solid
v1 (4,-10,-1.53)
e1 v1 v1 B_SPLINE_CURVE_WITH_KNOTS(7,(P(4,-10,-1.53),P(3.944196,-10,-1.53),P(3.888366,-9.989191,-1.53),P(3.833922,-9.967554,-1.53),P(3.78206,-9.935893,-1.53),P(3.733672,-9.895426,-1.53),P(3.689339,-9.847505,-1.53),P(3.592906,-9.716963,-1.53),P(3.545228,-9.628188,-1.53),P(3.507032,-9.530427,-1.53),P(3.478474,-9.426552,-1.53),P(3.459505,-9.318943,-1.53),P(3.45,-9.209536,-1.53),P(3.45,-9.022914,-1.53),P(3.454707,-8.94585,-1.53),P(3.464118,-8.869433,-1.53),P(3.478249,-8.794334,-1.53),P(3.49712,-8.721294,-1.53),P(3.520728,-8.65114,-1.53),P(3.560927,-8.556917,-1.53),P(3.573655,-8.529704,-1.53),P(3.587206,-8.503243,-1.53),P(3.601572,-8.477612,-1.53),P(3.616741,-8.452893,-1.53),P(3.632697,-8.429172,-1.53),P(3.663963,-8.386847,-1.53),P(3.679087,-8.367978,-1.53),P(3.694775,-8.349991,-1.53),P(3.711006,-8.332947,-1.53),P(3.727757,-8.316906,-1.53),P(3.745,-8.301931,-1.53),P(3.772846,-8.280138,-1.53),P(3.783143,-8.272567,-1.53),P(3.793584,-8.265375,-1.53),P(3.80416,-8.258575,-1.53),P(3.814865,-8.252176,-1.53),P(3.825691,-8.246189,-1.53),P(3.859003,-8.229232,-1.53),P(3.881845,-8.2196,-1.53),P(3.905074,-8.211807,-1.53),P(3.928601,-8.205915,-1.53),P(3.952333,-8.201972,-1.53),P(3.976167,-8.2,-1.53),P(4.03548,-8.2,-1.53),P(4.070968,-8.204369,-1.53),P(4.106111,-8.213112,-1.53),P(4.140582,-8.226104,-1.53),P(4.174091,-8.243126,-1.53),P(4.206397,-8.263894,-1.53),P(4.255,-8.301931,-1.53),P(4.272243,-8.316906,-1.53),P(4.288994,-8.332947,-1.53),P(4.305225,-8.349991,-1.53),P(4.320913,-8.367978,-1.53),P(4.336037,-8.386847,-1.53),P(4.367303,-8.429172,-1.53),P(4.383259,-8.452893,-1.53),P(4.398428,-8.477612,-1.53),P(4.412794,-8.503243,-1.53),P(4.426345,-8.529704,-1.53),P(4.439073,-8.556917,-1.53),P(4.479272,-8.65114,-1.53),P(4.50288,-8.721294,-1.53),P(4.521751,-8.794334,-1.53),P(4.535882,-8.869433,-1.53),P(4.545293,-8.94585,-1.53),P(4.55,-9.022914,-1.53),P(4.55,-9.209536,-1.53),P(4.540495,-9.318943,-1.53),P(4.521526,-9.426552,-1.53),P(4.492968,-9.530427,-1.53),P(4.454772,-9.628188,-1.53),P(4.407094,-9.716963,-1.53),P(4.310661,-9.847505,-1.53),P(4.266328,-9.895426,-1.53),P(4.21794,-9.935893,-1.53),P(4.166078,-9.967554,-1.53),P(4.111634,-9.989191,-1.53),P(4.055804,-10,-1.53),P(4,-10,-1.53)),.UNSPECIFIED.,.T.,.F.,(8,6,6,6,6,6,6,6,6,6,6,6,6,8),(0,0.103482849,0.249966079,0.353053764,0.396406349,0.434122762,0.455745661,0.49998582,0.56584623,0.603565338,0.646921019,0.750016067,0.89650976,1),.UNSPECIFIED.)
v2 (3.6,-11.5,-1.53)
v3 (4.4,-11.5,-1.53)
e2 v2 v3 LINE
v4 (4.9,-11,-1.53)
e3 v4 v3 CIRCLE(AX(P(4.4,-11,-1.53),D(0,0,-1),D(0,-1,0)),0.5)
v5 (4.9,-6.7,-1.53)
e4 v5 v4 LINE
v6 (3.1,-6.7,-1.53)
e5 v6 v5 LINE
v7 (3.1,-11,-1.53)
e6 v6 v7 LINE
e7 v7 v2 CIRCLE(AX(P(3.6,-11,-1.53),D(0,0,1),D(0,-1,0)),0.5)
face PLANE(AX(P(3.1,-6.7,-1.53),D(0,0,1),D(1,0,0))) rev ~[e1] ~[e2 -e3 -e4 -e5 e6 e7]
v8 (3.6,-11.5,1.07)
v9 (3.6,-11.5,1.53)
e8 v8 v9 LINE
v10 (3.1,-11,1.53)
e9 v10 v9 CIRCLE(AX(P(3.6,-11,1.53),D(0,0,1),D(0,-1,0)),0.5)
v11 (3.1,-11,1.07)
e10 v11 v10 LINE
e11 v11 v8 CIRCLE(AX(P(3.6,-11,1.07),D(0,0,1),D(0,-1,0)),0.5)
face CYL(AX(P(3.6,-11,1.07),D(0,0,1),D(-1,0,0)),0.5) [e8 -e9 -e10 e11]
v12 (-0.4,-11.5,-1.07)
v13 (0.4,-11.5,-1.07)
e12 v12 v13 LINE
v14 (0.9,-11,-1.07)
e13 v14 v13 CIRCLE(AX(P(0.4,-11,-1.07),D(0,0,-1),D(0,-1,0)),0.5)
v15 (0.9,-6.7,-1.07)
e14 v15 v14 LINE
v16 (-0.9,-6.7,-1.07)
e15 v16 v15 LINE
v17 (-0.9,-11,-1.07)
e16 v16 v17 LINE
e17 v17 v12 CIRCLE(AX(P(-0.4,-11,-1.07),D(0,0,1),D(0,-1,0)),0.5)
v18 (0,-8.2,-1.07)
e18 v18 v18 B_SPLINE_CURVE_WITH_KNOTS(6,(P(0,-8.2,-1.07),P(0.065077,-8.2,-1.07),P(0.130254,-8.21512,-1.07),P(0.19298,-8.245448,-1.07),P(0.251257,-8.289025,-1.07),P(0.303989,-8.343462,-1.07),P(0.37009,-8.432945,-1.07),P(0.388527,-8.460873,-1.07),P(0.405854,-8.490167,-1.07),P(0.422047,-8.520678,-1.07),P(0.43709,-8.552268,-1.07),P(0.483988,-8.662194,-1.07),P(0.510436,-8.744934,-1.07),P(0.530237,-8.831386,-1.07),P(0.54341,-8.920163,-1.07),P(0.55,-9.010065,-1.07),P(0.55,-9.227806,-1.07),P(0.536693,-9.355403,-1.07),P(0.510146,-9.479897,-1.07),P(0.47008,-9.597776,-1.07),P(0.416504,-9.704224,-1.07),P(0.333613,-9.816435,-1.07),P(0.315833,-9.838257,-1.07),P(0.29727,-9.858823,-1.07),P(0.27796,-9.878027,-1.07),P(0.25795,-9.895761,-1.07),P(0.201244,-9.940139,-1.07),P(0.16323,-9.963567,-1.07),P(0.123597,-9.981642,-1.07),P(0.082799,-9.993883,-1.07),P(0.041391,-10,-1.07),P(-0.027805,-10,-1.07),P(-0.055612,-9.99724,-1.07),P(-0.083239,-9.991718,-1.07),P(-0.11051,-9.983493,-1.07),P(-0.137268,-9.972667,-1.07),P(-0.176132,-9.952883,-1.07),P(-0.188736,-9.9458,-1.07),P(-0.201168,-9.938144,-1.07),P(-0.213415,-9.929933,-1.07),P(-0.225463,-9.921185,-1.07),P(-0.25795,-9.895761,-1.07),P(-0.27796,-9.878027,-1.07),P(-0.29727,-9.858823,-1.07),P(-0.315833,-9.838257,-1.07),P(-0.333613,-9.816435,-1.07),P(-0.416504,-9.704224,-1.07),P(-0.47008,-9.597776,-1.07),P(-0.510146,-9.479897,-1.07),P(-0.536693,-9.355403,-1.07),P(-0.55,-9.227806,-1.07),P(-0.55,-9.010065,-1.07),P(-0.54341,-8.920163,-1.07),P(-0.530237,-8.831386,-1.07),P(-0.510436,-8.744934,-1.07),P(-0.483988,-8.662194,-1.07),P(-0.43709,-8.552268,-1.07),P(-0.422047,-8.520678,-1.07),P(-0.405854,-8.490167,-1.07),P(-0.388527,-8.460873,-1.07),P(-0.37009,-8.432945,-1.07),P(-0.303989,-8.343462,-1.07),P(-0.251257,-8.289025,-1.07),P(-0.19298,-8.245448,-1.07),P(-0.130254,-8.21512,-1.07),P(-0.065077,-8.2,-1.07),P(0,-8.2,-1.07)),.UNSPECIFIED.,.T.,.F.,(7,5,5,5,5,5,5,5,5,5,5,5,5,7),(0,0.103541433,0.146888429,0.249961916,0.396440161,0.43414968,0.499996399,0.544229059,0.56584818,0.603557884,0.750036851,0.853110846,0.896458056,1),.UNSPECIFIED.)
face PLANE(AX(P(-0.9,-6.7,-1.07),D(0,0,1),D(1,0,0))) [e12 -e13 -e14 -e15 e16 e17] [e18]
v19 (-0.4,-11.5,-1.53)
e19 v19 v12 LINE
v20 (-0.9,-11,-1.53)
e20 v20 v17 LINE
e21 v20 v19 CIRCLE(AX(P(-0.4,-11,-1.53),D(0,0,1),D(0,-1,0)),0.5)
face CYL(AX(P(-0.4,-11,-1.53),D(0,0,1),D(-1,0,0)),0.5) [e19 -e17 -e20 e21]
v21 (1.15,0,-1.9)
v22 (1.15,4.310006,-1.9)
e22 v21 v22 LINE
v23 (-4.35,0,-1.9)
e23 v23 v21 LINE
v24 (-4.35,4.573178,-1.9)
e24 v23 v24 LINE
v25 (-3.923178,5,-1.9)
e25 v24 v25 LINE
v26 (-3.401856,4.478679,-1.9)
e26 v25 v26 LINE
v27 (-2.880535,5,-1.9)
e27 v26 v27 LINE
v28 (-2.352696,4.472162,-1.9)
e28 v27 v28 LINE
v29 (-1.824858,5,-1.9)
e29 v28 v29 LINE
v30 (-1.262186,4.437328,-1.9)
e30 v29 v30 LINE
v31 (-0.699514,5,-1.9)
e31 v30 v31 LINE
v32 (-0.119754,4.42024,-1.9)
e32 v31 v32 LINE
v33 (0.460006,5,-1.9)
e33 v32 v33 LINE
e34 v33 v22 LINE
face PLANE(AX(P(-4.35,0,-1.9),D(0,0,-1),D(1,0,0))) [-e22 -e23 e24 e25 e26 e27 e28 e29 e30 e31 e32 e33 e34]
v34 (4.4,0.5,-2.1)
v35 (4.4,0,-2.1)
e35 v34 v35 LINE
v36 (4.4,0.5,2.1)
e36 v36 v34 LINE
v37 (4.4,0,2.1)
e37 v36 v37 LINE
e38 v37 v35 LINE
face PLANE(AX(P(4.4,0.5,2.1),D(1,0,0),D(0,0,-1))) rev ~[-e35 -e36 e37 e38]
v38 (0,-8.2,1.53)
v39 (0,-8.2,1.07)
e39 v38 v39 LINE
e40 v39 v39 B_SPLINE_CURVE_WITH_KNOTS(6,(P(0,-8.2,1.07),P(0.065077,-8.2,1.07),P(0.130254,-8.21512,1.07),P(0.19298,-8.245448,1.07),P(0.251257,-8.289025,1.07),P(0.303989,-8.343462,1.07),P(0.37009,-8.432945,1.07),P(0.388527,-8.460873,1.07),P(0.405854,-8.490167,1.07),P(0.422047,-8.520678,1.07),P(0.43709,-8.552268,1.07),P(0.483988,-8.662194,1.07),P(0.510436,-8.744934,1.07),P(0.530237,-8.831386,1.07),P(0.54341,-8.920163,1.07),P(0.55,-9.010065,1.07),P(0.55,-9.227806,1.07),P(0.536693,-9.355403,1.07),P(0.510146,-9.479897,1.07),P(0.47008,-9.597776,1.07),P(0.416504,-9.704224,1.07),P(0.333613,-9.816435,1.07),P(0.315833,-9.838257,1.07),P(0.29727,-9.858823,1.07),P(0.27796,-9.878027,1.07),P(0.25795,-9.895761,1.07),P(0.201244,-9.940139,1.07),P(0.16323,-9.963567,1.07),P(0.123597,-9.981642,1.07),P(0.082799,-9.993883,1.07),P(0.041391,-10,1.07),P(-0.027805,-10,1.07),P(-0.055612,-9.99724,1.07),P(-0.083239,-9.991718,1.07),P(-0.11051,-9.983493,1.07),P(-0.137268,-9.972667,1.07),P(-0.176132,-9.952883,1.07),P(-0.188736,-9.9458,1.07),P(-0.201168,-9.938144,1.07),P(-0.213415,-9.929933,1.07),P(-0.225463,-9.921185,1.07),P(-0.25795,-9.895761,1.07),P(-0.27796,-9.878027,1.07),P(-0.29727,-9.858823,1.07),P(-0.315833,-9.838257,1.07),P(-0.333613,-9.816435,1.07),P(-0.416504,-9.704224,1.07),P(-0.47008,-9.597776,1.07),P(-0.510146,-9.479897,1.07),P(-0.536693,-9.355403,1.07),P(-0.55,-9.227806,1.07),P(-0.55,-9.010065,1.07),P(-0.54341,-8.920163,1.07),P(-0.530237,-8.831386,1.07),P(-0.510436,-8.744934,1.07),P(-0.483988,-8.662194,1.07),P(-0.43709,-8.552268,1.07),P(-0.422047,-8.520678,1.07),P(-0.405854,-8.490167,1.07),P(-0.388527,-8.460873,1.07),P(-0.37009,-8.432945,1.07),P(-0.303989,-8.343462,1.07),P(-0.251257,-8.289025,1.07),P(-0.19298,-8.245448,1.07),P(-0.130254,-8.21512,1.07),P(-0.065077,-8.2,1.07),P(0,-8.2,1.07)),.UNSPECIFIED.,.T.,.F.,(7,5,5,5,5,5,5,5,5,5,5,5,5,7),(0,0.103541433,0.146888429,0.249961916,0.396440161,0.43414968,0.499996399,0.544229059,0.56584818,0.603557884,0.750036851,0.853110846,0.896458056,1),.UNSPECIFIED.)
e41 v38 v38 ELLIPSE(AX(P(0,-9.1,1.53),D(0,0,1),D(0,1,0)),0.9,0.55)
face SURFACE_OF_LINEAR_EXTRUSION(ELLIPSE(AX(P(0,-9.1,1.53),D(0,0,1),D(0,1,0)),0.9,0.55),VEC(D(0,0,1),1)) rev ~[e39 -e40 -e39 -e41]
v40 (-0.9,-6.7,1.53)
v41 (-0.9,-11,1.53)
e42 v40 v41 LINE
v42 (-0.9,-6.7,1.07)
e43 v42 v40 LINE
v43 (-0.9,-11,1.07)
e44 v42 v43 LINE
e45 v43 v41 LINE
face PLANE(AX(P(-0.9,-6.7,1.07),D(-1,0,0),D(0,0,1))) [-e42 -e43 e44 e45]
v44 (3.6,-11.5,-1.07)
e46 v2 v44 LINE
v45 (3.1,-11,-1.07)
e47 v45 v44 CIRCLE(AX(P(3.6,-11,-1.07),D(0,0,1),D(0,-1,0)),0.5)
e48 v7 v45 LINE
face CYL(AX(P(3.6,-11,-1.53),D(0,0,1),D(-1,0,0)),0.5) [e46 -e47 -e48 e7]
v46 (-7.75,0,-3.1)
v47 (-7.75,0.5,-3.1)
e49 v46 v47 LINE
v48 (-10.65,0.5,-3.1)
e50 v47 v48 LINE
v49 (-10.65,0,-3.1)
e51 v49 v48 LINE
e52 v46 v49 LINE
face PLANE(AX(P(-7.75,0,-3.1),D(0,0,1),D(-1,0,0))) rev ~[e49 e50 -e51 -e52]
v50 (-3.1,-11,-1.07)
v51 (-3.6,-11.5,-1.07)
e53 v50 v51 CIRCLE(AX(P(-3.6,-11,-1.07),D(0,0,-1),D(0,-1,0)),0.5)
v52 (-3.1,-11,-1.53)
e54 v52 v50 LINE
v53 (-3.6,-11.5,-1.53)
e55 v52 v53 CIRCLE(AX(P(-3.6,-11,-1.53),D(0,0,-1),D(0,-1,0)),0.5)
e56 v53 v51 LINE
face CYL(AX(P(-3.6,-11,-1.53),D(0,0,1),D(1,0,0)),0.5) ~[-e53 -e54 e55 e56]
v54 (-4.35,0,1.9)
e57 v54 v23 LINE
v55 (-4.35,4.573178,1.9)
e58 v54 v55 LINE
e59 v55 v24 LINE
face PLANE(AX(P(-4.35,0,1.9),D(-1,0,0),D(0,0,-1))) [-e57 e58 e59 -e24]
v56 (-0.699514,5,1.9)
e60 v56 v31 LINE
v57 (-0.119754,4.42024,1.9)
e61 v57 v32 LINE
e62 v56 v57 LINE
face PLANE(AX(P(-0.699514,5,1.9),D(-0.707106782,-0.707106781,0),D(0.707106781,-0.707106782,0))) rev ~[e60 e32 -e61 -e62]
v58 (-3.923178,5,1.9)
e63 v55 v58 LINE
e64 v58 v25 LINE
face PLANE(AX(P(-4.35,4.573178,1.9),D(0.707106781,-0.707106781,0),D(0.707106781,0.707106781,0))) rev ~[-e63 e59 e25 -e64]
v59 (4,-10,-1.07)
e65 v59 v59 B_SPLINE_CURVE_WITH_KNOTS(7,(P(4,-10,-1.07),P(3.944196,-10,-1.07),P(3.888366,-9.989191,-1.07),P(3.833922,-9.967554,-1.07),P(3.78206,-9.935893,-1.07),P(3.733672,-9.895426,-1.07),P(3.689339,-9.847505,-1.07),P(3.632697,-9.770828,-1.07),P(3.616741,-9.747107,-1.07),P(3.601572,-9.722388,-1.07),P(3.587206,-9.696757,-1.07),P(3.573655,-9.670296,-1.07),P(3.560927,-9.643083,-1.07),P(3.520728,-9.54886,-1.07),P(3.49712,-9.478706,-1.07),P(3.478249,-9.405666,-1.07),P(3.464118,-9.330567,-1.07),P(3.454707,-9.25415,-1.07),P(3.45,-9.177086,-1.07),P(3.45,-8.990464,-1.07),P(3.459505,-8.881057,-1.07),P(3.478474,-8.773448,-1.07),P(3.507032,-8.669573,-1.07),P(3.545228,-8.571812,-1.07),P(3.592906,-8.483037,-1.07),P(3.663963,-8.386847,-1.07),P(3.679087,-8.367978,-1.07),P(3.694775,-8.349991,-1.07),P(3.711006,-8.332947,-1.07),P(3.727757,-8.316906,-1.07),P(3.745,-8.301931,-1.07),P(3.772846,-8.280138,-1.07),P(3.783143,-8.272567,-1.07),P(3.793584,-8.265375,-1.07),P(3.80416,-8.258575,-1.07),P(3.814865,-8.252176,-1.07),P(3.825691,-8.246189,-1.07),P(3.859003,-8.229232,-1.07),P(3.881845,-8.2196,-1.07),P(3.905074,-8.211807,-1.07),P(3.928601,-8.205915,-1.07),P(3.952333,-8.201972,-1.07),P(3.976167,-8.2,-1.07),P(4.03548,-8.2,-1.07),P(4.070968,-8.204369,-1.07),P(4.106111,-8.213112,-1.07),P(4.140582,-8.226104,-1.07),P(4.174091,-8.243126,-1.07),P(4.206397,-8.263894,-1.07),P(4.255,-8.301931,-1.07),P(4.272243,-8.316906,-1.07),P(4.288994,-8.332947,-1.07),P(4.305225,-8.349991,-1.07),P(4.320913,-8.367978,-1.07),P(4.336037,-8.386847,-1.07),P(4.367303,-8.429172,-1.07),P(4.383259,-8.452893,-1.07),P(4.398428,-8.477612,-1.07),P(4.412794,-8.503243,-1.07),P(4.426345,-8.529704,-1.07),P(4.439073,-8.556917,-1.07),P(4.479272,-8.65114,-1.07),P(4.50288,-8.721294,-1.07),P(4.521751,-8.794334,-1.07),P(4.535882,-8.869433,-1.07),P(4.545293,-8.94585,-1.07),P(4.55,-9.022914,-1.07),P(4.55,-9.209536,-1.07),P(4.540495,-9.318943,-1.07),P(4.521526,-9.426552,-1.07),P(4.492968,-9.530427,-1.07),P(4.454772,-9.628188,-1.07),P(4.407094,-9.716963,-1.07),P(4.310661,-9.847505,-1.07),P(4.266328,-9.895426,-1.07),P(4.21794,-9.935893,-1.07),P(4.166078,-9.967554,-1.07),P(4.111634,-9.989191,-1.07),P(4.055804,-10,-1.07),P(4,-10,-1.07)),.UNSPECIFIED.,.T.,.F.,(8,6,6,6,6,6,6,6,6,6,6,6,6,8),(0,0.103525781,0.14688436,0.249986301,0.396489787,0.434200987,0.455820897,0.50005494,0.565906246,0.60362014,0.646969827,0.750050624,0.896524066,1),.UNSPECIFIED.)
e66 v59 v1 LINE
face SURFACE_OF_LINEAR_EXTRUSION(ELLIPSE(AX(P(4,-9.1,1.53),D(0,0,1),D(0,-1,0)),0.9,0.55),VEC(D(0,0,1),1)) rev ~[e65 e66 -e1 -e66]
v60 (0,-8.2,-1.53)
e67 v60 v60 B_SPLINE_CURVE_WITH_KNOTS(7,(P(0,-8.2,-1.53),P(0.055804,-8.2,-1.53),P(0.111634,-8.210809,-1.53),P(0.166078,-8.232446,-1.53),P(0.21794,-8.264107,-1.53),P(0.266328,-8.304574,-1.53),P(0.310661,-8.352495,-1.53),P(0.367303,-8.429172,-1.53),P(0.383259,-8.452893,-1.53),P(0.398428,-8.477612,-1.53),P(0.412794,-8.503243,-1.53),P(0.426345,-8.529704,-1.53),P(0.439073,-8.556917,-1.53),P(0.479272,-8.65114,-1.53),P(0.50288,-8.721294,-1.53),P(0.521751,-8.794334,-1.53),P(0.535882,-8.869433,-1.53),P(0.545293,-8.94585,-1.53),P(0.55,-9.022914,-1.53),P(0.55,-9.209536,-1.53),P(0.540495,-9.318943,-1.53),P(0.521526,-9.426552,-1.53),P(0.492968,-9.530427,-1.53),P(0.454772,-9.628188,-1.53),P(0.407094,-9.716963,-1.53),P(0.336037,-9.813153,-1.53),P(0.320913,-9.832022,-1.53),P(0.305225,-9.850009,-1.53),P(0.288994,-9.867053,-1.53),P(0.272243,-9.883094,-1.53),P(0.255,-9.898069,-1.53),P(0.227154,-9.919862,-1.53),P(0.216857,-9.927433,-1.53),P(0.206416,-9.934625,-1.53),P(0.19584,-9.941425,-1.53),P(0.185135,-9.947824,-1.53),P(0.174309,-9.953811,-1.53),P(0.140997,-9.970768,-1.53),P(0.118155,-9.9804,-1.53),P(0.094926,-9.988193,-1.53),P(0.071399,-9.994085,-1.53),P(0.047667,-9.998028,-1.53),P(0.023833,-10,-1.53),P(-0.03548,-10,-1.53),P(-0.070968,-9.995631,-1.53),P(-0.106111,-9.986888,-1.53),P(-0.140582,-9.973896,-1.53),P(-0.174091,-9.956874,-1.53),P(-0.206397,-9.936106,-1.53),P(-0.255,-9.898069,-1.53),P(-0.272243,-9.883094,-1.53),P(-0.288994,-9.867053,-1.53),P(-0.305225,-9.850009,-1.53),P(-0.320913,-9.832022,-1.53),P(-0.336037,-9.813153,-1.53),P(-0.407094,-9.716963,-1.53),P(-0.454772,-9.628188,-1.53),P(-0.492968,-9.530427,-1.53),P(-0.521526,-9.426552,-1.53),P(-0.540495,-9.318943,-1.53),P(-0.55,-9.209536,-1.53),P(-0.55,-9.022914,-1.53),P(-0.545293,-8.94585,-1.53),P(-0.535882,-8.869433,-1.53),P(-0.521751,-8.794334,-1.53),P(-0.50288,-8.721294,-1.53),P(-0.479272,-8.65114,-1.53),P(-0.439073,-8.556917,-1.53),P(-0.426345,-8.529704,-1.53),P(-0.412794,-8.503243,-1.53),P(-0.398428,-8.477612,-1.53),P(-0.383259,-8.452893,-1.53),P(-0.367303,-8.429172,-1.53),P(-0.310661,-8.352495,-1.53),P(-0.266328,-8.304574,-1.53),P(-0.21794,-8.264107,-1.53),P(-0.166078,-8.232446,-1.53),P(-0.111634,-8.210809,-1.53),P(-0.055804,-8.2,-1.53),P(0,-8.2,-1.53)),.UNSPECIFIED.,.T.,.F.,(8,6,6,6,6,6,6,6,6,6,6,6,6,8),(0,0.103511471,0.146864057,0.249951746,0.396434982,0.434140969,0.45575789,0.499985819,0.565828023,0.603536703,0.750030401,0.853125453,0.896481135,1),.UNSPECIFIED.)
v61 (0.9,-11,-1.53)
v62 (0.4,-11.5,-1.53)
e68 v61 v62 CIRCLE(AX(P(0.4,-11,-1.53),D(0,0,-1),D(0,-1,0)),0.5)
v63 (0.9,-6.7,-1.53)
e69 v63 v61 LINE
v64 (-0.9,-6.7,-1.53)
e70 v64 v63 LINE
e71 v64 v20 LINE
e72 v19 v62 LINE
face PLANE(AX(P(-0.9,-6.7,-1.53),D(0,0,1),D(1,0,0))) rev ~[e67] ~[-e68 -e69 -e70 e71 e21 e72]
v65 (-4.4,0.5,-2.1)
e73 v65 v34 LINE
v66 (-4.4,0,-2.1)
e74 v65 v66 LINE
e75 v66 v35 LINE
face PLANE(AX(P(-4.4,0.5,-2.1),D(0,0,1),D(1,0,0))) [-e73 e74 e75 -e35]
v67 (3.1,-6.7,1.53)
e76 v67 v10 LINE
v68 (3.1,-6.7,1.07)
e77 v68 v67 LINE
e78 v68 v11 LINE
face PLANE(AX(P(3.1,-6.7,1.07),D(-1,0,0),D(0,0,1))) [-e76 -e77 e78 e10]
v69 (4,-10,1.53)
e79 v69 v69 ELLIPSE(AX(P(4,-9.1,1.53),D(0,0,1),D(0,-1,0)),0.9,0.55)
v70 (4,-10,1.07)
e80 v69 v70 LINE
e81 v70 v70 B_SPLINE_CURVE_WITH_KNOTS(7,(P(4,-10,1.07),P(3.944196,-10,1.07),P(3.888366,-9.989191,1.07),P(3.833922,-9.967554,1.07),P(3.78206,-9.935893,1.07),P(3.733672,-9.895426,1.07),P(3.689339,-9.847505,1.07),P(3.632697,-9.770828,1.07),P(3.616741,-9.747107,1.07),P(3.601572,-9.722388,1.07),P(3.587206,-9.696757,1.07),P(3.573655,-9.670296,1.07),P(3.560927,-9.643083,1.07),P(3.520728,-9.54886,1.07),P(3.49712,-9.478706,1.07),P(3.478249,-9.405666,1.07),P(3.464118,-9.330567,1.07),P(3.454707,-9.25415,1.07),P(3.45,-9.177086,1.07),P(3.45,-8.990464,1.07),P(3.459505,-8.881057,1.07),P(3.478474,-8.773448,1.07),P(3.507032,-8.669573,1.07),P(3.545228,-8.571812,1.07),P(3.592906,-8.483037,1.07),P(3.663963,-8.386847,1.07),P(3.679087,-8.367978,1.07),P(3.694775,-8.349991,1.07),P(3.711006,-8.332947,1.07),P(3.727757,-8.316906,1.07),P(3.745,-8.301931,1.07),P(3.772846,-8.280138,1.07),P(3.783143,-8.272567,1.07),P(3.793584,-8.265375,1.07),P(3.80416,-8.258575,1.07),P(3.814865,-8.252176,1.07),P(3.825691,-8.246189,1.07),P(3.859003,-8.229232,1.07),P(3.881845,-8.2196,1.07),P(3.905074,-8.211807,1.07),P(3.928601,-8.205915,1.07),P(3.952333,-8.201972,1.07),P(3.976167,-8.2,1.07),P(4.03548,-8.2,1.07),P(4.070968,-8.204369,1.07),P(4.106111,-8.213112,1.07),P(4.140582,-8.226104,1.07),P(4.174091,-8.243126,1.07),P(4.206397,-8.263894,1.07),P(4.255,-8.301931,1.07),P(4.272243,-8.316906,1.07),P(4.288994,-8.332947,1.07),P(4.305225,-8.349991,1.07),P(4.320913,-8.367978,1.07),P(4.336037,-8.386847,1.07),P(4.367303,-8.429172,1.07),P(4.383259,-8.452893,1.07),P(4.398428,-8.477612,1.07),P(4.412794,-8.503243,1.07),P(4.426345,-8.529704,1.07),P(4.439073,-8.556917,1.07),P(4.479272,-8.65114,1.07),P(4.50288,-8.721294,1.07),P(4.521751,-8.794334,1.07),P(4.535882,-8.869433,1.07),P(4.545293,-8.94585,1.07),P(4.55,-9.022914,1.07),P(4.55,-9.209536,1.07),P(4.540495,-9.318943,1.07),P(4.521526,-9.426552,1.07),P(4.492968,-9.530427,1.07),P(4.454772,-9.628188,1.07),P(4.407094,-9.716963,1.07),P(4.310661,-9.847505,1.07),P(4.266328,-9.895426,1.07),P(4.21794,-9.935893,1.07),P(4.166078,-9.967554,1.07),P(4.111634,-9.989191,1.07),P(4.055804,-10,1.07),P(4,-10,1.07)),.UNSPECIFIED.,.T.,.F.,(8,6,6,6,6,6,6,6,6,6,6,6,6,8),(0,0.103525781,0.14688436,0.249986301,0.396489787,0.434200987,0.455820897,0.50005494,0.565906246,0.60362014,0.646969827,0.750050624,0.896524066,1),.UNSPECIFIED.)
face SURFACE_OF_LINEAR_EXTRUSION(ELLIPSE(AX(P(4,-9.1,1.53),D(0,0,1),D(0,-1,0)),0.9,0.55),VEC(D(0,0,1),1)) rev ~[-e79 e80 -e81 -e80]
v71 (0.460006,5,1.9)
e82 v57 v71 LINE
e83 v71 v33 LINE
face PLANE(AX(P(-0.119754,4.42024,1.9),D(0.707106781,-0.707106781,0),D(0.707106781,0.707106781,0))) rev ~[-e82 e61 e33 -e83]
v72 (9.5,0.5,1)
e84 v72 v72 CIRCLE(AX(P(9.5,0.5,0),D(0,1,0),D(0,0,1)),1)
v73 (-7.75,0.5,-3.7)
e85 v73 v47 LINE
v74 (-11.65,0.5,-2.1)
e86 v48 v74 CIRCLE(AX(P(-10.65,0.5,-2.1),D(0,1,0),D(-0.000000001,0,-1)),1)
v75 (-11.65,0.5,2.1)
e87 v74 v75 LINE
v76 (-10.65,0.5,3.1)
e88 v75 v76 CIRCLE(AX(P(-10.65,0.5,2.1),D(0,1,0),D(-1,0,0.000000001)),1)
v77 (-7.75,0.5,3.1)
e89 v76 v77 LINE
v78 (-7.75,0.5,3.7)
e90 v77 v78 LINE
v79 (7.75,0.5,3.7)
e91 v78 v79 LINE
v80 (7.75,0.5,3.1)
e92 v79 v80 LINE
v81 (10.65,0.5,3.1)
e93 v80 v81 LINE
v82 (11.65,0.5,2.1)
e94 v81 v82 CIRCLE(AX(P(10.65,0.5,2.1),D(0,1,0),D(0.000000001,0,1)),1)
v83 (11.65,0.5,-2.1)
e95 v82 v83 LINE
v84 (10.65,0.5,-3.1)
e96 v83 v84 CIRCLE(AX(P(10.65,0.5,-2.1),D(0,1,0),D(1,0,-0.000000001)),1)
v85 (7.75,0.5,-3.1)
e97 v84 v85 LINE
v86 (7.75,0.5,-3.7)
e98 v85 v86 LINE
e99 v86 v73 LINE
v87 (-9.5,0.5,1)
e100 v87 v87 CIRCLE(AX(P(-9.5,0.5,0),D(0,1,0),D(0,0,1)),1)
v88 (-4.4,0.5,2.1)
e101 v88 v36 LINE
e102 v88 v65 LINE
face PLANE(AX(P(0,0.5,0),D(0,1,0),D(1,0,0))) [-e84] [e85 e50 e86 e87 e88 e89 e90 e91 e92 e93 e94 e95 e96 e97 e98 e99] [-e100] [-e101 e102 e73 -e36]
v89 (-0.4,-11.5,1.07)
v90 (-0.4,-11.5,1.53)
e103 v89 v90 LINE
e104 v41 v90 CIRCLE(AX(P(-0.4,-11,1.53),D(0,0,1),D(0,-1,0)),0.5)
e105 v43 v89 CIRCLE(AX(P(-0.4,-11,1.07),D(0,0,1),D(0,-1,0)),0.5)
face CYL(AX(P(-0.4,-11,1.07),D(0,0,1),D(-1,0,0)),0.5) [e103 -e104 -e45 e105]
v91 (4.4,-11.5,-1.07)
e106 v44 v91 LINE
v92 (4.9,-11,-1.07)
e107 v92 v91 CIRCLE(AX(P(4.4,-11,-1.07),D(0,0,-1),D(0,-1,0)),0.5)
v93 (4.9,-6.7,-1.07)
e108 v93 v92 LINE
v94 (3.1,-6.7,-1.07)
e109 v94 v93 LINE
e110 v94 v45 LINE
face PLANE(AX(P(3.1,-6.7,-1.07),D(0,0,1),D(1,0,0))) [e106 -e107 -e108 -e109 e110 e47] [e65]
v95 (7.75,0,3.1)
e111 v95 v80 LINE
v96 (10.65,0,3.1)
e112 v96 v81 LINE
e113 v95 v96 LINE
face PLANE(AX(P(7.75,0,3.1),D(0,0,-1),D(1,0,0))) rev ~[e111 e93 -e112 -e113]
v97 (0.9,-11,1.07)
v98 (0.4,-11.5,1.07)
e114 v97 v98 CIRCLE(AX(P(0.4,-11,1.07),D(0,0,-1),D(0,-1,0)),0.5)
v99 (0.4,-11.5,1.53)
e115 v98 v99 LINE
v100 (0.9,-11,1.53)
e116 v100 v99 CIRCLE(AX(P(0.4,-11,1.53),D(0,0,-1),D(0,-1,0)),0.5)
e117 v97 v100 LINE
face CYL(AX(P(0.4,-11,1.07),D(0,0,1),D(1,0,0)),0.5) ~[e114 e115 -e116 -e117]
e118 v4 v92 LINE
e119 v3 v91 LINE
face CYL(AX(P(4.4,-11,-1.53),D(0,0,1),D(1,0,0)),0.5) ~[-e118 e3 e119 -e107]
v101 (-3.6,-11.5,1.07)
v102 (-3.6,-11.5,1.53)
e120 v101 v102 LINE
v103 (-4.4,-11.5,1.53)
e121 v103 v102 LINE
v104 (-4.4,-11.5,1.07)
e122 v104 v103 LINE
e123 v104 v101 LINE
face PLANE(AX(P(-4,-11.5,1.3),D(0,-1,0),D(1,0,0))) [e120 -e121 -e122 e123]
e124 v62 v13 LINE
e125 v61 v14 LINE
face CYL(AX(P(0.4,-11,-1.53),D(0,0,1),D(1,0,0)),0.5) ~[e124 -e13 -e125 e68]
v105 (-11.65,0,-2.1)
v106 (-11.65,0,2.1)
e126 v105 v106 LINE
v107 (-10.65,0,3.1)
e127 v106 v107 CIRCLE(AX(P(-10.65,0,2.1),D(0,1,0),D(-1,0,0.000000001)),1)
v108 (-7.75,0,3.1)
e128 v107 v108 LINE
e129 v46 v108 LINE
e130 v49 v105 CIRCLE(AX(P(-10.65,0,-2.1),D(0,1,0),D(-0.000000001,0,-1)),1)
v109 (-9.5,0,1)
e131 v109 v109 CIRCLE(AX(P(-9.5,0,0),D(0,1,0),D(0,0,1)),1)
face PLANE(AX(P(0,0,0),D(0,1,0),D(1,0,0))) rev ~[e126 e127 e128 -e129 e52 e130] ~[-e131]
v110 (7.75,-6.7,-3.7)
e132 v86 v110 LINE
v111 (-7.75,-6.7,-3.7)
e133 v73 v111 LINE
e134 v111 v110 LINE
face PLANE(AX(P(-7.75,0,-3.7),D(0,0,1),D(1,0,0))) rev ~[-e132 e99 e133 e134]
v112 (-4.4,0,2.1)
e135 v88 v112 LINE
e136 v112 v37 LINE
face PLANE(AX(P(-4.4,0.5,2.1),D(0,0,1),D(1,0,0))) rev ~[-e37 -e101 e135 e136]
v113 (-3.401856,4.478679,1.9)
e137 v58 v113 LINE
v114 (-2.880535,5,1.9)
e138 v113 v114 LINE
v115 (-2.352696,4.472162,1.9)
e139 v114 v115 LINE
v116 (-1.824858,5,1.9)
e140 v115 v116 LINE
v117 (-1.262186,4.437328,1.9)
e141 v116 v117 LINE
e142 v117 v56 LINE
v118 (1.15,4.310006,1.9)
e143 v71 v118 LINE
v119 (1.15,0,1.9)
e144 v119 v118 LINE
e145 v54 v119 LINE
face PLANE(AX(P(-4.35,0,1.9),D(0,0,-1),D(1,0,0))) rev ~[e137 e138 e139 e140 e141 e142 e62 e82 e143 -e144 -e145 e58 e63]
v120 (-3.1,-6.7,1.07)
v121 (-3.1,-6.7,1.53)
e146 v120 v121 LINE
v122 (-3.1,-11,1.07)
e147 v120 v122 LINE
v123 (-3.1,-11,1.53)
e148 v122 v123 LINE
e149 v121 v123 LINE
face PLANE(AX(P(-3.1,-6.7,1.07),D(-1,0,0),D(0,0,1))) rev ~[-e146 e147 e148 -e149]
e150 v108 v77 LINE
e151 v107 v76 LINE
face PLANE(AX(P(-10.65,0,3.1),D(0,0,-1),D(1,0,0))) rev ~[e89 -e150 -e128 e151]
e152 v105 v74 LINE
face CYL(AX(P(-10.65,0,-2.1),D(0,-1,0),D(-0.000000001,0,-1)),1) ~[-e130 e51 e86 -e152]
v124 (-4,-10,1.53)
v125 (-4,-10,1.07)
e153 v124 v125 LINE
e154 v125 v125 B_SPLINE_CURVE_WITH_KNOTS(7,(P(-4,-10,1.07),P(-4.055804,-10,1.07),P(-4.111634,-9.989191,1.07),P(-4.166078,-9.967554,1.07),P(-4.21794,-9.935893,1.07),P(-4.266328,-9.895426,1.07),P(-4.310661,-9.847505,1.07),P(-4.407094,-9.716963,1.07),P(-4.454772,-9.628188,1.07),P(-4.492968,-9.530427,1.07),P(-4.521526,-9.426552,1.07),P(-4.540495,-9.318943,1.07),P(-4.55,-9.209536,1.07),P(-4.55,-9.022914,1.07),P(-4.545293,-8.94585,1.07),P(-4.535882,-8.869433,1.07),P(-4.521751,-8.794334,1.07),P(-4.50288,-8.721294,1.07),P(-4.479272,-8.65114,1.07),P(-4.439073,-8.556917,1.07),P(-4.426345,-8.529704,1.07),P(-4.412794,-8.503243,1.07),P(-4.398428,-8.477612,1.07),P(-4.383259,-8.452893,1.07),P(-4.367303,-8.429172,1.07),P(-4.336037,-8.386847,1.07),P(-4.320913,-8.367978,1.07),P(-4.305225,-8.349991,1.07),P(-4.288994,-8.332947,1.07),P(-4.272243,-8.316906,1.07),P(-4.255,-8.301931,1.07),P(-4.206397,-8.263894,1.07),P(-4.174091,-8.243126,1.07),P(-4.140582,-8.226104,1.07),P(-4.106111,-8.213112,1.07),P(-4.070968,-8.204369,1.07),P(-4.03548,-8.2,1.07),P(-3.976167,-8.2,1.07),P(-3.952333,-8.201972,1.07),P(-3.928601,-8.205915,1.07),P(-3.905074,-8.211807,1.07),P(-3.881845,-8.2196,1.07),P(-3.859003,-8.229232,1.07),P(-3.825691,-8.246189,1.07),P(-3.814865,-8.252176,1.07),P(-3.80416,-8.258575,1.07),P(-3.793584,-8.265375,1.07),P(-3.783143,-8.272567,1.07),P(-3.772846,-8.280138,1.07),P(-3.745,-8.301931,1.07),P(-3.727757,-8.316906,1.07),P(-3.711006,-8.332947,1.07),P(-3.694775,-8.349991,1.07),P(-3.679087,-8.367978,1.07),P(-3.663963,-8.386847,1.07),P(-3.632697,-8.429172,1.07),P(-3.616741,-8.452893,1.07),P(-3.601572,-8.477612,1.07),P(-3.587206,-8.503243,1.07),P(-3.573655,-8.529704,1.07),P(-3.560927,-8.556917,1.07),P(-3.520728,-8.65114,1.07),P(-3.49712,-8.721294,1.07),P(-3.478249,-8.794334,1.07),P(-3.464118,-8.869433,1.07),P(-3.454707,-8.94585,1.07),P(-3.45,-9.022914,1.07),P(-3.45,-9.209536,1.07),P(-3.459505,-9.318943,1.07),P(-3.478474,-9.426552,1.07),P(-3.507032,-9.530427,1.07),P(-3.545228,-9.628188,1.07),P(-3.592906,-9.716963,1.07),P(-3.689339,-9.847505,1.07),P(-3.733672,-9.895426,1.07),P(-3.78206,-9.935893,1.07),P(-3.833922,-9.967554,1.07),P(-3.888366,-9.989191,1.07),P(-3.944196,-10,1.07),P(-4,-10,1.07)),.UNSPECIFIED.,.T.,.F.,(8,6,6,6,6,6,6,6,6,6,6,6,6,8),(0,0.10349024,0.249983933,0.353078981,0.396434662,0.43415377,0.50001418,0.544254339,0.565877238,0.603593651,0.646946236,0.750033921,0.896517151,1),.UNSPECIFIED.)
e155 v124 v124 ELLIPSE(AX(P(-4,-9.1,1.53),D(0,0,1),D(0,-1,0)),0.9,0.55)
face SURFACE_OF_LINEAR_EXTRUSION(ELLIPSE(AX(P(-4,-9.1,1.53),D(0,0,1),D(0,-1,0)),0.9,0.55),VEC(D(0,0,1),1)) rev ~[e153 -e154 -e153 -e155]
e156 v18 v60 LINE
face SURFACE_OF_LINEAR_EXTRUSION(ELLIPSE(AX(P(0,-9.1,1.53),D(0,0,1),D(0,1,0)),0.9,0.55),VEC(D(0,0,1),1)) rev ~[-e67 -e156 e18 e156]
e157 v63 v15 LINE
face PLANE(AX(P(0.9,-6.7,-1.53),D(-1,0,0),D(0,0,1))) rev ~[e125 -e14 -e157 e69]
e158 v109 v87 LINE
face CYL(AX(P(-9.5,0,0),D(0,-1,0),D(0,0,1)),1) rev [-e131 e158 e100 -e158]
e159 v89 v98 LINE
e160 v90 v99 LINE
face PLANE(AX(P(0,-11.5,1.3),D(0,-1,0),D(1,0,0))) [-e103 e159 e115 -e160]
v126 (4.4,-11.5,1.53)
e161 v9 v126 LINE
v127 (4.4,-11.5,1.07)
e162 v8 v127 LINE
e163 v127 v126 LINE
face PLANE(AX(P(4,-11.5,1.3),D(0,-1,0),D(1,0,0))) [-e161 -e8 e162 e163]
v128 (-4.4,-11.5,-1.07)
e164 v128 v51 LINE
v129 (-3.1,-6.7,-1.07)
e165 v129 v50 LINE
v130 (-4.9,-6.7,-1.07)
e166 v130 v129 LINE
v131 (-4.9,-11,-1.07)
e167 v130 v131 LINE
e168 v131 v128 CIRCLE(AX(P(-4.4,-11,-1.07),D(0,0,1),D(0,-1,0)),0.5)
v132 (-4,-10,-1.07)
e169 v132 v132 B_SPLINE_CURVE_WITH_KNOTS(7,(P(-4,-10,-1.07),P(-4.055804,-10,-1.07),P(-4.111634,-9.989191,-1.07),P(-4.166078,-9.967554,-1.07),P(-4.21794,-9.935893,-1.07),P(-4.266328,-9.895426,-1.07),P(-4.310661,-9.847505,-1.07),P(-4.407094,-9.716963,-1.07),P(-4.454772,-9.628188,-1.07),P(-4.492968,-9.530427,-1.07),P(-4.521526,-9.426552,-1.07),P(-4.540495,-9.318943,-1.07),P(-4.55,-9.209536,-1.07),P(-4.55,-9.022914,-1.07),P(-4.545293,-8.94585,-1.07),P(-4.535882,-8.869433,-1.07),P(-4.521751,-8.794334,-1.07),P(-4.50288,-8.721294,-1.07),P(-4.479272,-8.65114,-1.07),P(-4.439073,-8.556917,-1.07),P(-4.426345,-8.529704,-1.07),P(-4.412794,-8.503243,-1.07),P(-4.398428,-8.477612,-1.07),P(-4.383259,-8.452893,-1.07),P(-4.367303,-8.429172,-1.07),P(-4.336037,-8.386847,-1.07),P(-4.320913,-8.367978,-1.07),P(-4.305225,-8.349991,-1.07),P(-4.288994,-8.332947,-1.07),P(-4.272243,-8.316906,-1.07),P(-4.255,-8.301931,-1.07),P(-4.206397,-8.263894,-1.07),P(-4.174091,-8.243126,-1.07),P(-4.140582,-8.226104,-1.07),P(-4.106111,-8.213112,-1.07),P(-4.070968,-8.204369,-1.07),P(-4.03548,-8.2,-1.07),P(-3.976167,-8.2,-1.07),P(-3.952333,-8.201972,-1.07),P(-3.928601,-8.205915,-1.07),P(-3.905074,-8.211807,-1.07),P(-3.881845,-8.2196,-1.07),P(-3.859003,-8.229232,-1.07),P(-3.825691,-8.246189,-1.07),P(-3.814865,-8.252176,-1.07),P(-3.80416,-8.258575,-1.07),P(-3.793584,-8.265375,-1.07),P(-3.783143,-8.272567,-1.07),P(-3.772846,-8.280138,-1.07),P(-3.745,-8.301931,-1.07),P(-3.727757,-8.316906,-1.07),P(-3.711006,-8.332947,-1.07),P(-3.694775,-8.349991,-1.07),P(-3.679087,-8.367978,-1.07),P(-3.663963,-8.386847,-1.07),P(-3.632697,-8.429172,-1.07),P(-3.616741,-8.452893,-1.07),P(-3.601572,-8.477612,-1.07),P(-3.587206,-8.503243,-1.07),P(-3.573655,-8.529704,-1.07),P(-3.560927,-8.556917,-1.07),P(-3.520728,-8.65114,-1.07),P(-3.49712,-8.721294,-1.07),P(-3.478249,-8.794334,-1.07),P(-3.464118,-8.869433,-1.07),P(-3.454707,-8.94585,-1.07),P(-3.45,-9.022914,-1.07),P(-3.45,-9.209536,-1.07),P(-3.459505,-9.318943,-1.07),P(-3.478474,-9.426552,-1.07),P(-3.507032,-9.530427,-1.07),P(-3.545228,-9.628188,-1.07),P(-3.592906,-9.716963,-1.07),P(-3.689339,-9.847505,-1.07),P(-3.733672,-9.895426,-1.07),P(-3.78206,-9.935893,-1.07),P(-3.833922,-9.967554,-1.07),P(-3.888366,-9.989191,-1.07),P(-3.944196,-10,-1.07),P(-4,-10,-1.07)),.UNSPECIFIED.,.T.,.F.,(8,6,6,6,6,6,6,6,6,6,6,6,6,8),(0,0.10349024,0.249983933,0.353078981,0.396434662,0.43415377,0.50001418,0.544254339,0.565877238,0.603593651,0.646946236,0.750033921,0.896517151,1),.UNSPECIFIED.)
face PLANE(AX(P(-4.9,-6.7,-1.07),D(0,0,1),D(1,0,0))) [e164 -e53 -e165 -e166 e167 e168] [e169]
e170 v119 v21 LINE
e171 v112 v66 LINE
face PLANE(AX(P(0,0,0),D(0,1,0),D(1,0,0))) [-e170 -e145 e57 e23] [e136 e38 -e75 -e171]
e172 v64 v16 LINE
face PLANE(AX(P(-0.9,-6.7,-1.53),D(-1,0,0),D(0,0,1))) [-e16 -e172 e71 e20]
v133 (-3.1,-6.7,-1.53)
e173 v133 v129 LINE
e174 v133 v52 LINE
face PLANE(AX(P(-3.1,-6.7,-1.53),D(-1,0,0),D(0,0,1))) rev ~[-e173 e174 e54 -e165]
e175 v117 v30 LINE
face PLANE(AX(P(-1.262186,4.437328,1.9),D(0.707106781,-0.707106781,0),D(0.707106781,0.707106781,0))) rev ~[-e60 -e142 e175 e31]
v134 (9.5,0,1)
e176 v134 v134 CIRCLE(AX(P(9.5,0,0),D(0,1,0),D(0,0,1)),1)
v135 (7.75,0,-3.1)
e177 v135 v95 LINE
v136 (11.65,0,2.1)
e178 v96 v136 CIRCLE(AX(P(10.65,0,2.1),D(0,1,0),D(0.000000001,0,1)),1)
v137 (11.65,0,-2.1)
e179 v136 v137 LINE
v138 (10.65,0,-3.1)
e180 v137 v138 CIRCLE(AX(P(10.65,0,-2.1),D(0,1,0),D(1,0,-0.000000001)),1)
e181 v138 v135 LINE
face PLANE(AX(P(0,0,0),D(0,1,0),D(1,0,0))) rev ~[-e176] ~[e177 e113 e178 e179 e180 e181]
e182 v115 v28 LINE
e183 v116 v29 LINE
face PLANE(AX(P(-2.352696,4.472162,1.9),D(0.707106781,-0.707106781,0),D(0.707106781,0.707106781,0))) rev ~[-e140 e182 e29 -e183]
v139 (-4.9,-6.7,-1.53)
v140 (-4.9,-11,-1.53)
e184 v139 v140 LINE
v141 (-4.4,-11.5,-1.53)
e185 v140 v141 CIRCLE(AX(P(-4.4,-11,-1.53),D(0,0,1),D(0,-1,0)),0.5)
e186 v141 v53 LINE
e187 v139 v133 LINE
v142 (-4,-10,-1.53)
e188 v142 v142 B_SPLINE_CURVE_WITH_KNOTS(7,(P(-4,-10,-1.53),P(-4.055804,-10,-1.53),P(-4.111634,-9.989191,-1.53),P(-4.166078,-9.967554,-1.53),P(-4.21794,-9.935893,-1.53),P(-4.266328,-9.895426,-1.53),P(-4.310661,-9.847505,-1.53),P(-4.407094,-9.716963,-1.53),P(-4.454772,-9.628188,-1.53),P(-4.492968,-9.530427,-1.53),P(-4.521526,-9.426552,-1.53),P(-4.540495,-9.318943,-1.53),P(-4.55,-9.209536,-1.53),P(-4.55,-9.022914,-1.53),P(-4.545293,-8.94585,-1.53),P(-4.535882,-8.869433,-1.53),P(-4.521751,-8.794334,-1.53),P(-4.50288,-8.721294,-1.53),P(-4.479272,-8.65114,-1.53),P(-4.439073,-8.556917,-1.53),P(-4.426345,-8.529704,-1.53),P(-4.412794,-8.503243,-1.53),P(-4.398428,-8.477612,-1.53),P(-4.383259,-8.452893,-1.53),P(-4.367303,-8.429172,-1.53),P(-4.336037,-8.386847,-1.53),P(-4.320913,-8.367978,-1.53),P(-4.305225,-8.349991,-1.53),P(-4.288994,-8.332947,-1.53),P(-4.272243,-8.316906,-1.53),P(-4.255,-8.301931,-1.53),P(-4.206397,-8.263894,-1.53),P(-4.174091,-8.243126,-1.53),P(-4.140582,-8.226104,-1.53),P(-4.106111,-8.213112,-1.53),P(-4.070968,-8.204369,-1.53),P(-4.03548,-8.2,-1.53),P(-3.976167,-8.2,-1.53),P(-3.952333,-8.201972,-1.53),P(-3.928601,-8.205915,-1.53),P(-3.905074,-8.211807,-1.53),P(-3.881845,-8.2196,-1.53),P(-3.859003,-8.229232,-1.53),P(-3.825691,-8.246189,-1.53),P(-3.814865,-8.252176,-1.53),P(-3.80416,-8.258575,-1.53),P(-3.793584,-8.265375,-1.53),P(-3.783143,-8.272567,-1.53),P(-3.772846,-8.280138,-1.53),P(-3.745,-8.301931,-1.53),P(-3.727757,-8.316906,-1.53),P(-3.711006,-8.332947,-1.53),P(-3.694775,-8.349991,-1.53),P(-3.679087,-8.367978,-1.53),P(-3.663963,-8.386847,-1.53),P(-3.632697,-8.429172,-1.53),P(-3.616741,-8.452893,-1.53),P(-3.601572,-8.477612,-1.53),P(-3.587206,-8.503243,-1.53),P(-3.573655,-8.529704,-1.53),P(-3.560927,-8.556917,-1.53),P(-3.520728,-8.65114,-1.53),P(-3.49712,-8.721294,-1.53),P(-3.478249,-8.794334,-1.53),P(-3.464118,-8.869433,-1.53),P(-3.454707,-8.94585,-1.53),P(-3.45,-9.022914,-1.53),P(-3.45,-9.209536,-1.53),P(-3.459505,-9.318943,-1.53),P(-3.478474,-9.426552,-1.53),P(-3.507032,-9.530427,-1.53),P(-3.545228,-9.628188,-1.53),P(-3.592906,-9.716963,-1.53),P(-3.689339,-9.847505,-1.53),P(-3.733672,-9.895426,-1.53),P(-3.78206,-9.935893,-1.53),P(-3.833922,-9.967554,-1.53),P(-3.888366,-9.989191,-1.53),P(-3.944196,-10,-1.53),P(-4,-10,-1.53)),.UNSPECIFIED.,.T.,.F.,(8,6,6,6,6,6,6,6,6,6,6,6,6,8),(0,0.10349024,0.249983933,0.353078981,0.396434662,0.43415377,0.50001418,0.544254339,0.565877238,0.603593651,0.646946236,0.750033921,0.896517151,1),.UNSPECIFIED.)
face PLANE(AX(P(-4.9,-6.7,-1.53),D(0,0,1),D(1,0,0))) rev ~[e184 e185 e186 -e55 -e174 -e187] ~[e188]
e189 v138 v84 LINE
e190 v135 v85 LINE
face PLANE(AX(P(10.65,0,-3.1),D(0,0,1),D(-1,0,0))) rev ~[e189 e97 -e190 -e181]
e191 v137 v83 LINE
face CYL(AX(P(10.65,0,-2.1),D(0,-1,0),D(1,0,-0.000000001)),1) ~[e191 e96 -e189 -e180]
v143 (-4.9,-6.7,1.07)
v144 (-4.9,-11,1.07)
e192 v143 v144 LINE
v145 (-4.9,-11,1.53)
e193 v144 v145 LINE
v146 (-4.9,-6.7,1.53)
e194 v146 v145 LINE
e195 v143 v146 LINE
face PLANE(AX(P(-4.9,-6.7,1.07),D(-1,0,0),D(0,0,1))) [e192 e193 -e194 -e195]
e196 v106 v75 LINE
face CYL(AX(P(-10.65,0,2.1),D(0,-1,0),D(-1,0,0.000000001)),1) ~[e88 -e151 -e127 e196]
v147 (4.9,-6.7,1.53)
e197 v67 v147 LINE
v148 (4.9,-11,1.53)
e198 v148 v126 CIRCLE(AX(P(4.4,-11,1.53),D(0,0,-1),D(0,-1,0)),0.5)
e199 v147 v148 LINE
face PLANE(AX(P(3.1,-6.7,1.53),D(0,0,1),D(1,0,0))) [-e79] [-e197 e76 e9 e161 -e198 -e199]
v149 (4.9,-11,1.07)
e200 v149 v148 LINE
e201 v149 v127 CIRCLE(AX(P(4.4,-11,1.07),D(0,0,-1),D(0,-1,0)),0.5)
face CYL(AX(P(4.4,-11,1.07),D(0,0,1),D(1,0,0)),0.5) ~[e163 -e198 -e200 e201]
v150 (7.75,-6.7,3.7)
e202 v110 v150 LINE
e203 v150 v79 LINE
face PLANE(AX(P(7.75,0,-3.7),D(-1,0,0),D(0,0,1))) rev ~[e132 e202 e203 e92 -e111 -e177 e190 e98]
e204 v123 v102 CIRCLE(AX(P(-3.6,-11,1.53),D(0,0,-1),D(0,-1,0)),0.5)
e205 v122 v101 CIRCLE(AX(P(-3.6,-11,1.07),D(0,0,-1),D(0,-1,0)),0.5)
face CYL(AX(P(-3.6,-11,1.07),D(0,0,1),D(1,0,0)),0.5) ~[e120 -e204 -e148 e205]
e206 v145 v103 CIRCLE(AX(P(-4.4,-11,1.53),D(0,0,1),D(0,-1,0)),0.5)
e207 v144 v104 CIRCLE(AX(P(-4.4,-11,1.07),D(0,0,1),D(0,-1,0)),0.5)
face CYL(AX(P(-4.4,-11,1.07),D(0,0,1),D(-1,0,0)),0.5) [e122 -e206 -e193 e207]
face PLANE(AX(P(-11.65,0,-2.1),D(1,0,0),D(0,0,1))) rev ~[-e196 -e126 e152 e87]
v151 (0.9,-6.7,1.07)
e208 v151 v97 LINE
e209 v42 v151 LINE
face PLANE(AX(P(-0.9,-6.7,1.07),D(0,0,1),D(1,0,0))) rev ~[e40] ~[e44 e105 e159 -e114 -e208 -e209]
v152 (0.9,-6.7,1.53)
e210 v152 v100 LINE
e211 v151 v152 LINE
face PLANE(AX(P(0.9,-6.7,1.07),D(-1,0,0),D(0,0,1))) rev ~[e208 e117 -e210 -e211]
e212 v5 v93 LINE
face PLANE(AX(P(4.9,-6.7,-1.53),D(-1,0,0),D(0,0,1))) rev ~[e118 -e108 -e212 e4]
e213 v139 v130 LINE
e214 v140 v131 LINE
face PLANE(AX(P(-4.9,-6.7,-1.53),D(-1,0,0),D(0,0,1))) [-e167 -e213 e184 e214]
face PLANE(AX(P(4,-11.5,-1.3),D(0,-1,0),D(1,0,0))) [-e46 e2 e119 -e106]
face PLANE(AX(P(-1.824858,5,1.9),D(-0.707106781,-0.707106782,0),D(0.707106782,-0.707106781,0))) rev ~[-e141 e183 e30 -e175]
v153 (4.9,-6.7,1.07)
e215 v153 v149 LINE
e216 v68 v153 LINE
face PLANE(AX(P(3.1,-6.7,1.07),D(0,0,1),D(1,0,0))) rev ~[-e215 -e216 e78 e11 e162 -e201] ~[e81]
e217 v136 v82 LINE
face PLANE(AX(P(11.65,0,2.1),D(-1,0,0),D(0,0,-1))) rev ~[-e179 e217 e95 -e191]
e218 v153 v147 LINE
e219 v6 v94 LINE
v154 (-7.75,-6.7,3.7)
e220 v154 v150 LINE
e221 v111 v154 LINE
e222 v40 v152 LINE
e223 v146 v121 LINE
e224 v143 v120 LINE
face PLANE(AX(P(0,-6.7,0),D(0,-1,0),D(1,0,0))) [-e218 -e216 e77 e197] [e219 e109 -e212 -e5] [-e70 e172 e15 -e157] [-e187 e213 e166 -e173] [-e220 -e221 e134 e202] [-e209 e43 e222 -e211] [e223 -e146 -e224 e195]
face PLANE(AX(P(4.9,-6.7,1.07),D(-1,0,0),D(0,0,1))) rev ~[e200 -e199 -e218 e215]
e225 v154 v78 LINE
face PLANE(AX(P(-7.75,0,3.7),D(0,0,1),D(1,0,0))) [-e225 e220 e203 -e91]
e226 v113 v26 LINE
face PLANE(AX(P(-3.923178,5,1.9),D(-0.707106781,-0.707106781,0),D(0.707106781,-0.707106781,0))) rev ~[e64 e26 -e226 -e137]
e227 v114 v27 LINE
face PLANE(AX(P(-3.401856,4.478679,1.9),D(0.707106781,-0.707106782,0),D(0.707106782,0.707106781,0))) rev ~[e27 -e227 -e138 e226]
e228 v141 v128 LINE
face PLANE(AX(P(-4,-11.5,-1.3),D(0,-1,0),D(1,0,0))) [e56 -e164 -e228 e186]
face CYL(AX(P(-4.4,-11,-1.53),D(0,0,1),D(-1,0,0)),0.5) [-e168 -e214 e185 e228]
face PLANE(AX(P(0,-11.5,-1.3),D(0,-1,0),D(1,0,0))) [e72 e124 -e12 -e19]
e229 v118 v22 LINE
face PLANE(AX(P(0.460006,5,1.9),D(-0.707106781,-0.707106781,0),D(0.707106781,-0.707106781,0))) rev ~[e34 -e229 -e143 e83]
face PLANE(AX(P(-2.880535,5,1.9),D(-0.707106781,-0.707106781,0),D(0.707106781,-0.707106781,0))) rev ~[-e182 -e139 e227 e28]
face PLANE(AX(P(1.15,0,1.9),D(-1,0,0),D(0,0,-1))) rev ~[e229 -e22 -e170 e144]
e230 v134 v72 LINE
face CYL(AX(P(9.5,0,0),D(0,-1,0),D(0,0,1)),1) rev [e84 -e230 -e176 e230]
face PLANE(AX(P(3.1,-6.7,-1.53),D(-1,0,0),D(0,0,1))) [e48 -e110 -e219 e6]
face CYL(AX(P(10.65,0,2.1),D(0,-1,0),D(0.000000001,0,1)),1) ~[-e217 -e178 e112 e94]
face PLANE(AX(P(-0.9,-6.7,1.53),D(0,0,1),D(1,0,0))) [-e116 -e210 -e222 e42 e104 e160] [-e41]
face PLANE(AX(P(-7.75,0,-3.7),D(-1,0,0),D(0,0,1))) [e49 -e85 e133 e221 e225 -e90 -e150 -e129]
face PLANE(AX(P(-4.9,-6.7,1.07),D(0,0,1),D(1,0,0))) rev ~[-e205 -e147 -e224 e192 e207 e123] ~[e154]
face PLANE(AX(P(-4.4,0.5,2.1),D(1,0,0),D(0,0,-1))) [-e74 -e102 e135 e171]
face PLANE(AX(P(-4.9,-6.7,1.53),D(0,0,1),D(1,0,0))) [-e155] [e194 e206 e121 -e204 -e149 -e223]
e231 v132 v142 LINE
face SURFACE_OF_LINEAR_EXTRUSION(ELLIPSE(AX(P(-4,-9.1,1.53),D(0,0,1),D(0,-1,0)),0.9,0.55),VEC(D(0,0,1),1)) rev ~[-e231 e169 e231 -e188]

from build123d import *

# Parameters (mm, degrees)
CROQUIS1_R              = 1
SALIENTE_EXTRUIR1_DEPTH = 0.5
CROQUIS2_W              = 15.5
CROQUIS2_H              = 7.4
SALIENTE_EXTRUIR2_DEPTH = 6.7
CROQUIS3_W              = 1.8
CROQUIS3_H              = 0.46
SALIENTE_EXTRUIR3_DEPTH = 4.8
CROQUIS4_W              = 8.8
CROQUIS4_H              = 4.2
CORTAR_EXTRUIR1_DEPTH   = 0.5
CROQUIS5_W              = 5.5
CROQUIS5_H              = 3.8
SALIENTE_EXTRUIR4_DEPTH = 5
CORTAR_EXTRUIR2_REACH   = 19.185
CROQUIS6_RX             = 0.9
CROQUIS6_RY             = 0.55
REDONDEO2_R             = 0.5
CORTAR_EXTRUIR3_REACH   = 19.301


with BuildPart() as part:
    # Croquis1 → Saliente-Extruir1 (new body)
    with BuildSketch(Plane(origin=(0, 0, 0), x_dir=(1, 0, 0), z_dir=(0, 1, 0))):
        with BuildLine():
            Line((10.65, 3.1), (7.75, 3.1))
            Line((7.75, 3.1), (7.75, 3.7))
            Line((7.75, 3.7), (-7.75, 3.7))
            Line((-7.75, 3.7), (-7.75, 3.1))
            Line((-7.75, 3.1), (-10.65, 3.1))
            ThreePointArc((-10.65, 3.1), (-11.357106781, 2.807106781), (-11.65, 2.1))
            Line((-11.65, 2.1), (-11.65, -2.1))
            ThreePointArc((-11.65, -2.1), (-11.357106781, -2.807106781), (-10.65, -3.1))
            Line((-10.65, -3.1), (-7.75, -3.1))
            Line((-7.75, -3.1), (-7.75, -3.7))
            Line((-7.75, -3.7), (7.75, -3.7))
            Line((7.75, -3.7), (7.75, -3.1))
            Line((7.75, -3.1), (10.65, -3.1))
            ThreePointArc((10.65, -3.1), (11.357106781, -2.807106781), (11.65, -2.1))
            Line((11.65, -2.1), (11.65, 2.1))
            ThreePointArc((11.65, 2.1), (11.357106781, 2.807106781), (10.65, 3.1))
        make_face()
        with Locations(Location((9.5, 0, 0), (0, 0, 270))):
            Circle(CROQUIS1_R, mode=Mode.SUBTRACT)
        with Locations(Location((-9.5, 0, 0), (0, 0, 270))):
            Circle(CROQUIS1_R, mode=Mode.SUBTRACT)
    extrude(amount=SALIENTE_EXTRUIR1_DEPTH)

    # Croquis2 → Saliente-Extruir2 (add)
    with BuildSketch(Plane.XZ):
        Rectangle(CROQUIS2_W, CROQUIS2_H)
    extrude(amount=SALIENTE_EXTRUIR2_DEPTH)

    # Croquis3 → Saliente-Extruir3 (add)
    with BuildSketch(Plane.XZ.offset(6.7)):
        with Locations((0, -1.3)):
            Rectangle(CROQUIS3_W, CROQUIS3_H)
        with Locations((-4, -1.3)):
            Rectangle(CROQUIS3_W, CROQUIS3_H)
        with Locations((4, -1.3)):
            Rectangle(CROQUIS3_W, CROQUIS3_H)
        with Locations((4, 1.3)):
            Rectangle(CROQUIS3_W, CROQUIS3_H)
        with Locations((-4, 1.3)):
            Rectangle(CROQUIS3_W, CROQUIS3_H)
        with Locations((0, 1.3)):
            Rectangle(CROQUIS3_W, CROQUIS3_H)
    extrude(amount=SALIENTE_EXTRUIR3_DEPTH)

    # Croquis4 → Cortar-Extruir1 (cut)
    with BuildSketch(Plane(origin=(0, 0.5, 0), x_dir=(1, 0, 0), z_dir=(0, 1, 0))):
        Rectangle(CROQUIS4_W, CROQUIS4_H)
    extrude(amount=-CORTAR_EXTRUIR1_DEPTH, mode=Mode.SUBTRACT)

    # Croquis5 → Saliente-Extruir4 (add)
    with BuildSketch(Plane(origin=(0, 0, 0), x_dir=(1, 0, 0), z_dir=(0, 1, 0))):
        with Locations((-1.6, 0)):
            Rectangle(CROQUIS5_W, CROQUIS5_H)
    extrude(amount=SALIENTE_EXTRUIR4_DEPTH)

    # Cortar-Extruir2: up to this face of the body (flat: up to its plane)
    cortar_extruir2_end = Plane(part.part.faces().sort_by_distance((-4, -9.1, -1.53))[0])
    # Croquis6 → Cortar-Extruir2 (cut, up to the picked face)
    with BuildSketch(Plane.XY.offset(1.53), mode=Mode.PRIVATE) as cortar_extruir2_sk1:
        with Locations(Location((-4, -9.1), (0, 0, -90))):
            Ellipse(CROQUIS6_RX, CROQUIS6_RY)
    cortar_extruir2_tool1 = split(extrude(cortar_extruir2_sk1.sketch, amount=-CORTAR_EXTRUIR2_REACH, mode=Mode.PRIVATE), bisect_by=cortar_extruir2_end, keep=Keep.BOTH, mode=Mode.PRIVATE)
    # Croquis6 → Cortar-Extruir2 (cut, up to the picked face)
    with BuildSketch(Plane.XY.offset(1.53), mode=Mode.PRIVATE) as cortar_extruir2_sk2:
        with Locations(Location((0, -9.1), (0, 0, 90))):
            Ellipse(CROQUIS6_RX, CROQUIS6_RY)
    cortar_extruir2_tool2 = split(extrude(cortar_extruir2_sk2.sketch, amount=-CORTAR_EXTRUIR2_REACH, mode=Mode.PRIVATE), bisect_by=cortar_extruir2_end, keep=Keep.BOTH, mode=Mode.PRIVATE)
    # Croquis6 → Cortar-Extruir2 (cut, up to the picked face)
    with BuildSketch(Plane.XY.offset(1.53), mode=Mode.PRIVATE) as cortar_extruir2_sk3:
        with Locations(Location((4, -9.1), (0, 0, -90))):
            Ellipse(CROQUIS6_RX, CROQUIS6_RY)
    cortar_extruir2_tool3 = split(extrude(cortar_extruir2_sk3.sketch, amount=-CORTAR_EXTRUIR2_REACH, mode=Mode.PRIVATE), bisect_by=cortar_extruir2_end, keep=Keep.BOTH, mode=Mode.PRIVATE)
    add(cortar_extruir2_tool1.solids().sort_by(Axis((-4, -9.1, 1.53), (0, 0, -1)))[0], mode=Mode.SUBTRACT)
    add(cortar_extruir2_tool2.solids().sort_by(Axis((0, -9.1, 1.53), (0, 0, -1)))[0], mode=Mode.SUBTRACT)
    add(cortar_extruir2_tool3.solids().sort_by(Axis((4, -9.1, 1.53), (0, 0, -1)))[0], mode=Mode.SUBTRACT)

    # Redondeo2
    redondeo2_edges = [part.edges().sort_by_distance(p)[0] for p in [
        (0.9, -11.5, 1.3),
        (-0.9, -11.5, 1.3),
        (4.9, -11.5, 1.3),
        (3.1, -11.5, 1.3),
        (-3.1, -11.5, 1.3),
        (-4.9, -11.5, 1.3),
        (-0.9, -11.5, -1.3),
        (0.9, -11.5, -1.3),
        (-4.9, -11.5, -1.3),
        (-3.1, -11.5, -1.3),
        (3.1, -11.5, -1.3),
        (4.9, -11.5, -1.3),
    ]]
    fillet(redondeo2_edges, radius=REDONDEO2_R)

    # Croquis7 → Cortar-Extruir3 (cut, up to next)
    with BuildSketch(Plane.XY.offset(1.9), mode=Mode.PRIVATE) as cortar_extruir3_sk1:
        Polygon((-3.923177813, 5), (-4.35, 5), (-4.35, 4.573177813), align=None)
    cortar_extruir3_tool1 = extrude(cortar_extruir3_sk1.sketch, amount=-CORTAR_EXTRUIR3_REACH, mode=Mode.PRIVATE) & part.part
    # Croquis7 → Cortar-Extruir3 (cut, up to next)
    with BuildSketch(Plane.XY.offset(1.9), mode=Mode.PRIVATE) as cortar_extruir3_sk2:
        Polygon((1.15, 5), (0.460006212, 5), (1.15, 4.310006212), align=None)
    cortar_extruir3_tool2 = extrude(cortar_extruir3_sk2.sketch, amount=-CORTAR_EXTRUIR3_REACH, mode=Mode.PRIVATE) & part.part
    # Croquis7 → Cortar-Extruir3 (cut, up to next)
    with BuildSketch(Plane.XY.offset(1.9), mode=Mode.PRIVATE) as cortar_extruir3_sk3:
        Polygon((0.460006212, 5), (-0.699513597, 5), (-0.119753693, 4.420240095), align=None)
    cortar_extruir3_tool3 = extrude(cortar_extruir3_sk3.sketch, amount=-CORTAR_EXTRUIR3_REACH, mode=Mode.PRIVATE) & part.part
    # Croquis7 → Cortar-Extruir3 (cut, up to next)
    with BuildSketch(Plane.XY.offset(1.9), mode=Mode.PRIVATE) as cortar_extruir3_sk4:
        Polygon((-0.699513597, 5), (-1.824858034, 5), (-1.262185815, 4.437327782), align=None)
    cortar_extruir3_tool4 = extrude(cortar_extruir3_sk4.sketch, amount=-CORTAR_EXTRUIR3_REACH, mode=Mode.PRIVATE) & part.part
    # Croquis7 → Cortar-Extruir3 (cut, up to next)
    with BuildSketch(Plane.XY.offset(1.9), mode=Mode.PRIVATE) as cortar_extruir3_sk5:
        Polygon((-1.824858034, 5), (-2.880534962, 5), (-2.352696498, 4.472161536), align=None)
    cortar_extruir3_tool5 = extrude(cortar_extruir3_sk5.sketch, amount=-CORTAR_EXTRUIR3_REACH, mode=Mode.PRIVATE) & part.part
    # Croquis7 → Cortar-Extruir3 (cut, up to next)
    with BuildSketch(Plane.XY.offset(1.9), mode=Mode.PRIVATE) as cortar_extruir3_sk6:
        Polygon((-2.880534962, 5), (-3.923177813, 5), (-3.401856388, 4.478678575), align=None)
    cortar_extruir3_tool6 = extrude(cortar_extruir3_sk6.sketch, amount=-CORTAR_EXTRUIR3_REACH, mode=Mode.PRIVATE) & part.part
    add(cortar_extruir3_tool1.solids().sort_by_distance((-4.207726, 4.857726, 1.9))[0], mode=Mode.SUBTRACT)
    add(cortar_extruir3_tool2.solids().sort_by_distance((0.920002, 4.770002, 1.9))[0], mode=Mode.SUBTRACT)
    add(cortar_extruir3_tool3.solids().sort_by_distance((-0.119754, 4.806747, 1.9))[0], mode=Mode.SUBTRACT)
    add(cortar_extruir3_tool4.solids().sort_by_distance((-1.262186, 4.812443, 1.9))[0], mode=Mode.SUBTRACT)
    add(cortar_extruir3_tool5.solids().sort_by_distance((-2.352696, 4.824054, 1.9))[0], mode=Mode.SUBTRACT)
    add(cortar_extruir3_tool6.solids().sort_by_distance((-3.401856, 4.826226, 1.9))[0], mode=Mode.SUBTRACT)


solid = part.part
